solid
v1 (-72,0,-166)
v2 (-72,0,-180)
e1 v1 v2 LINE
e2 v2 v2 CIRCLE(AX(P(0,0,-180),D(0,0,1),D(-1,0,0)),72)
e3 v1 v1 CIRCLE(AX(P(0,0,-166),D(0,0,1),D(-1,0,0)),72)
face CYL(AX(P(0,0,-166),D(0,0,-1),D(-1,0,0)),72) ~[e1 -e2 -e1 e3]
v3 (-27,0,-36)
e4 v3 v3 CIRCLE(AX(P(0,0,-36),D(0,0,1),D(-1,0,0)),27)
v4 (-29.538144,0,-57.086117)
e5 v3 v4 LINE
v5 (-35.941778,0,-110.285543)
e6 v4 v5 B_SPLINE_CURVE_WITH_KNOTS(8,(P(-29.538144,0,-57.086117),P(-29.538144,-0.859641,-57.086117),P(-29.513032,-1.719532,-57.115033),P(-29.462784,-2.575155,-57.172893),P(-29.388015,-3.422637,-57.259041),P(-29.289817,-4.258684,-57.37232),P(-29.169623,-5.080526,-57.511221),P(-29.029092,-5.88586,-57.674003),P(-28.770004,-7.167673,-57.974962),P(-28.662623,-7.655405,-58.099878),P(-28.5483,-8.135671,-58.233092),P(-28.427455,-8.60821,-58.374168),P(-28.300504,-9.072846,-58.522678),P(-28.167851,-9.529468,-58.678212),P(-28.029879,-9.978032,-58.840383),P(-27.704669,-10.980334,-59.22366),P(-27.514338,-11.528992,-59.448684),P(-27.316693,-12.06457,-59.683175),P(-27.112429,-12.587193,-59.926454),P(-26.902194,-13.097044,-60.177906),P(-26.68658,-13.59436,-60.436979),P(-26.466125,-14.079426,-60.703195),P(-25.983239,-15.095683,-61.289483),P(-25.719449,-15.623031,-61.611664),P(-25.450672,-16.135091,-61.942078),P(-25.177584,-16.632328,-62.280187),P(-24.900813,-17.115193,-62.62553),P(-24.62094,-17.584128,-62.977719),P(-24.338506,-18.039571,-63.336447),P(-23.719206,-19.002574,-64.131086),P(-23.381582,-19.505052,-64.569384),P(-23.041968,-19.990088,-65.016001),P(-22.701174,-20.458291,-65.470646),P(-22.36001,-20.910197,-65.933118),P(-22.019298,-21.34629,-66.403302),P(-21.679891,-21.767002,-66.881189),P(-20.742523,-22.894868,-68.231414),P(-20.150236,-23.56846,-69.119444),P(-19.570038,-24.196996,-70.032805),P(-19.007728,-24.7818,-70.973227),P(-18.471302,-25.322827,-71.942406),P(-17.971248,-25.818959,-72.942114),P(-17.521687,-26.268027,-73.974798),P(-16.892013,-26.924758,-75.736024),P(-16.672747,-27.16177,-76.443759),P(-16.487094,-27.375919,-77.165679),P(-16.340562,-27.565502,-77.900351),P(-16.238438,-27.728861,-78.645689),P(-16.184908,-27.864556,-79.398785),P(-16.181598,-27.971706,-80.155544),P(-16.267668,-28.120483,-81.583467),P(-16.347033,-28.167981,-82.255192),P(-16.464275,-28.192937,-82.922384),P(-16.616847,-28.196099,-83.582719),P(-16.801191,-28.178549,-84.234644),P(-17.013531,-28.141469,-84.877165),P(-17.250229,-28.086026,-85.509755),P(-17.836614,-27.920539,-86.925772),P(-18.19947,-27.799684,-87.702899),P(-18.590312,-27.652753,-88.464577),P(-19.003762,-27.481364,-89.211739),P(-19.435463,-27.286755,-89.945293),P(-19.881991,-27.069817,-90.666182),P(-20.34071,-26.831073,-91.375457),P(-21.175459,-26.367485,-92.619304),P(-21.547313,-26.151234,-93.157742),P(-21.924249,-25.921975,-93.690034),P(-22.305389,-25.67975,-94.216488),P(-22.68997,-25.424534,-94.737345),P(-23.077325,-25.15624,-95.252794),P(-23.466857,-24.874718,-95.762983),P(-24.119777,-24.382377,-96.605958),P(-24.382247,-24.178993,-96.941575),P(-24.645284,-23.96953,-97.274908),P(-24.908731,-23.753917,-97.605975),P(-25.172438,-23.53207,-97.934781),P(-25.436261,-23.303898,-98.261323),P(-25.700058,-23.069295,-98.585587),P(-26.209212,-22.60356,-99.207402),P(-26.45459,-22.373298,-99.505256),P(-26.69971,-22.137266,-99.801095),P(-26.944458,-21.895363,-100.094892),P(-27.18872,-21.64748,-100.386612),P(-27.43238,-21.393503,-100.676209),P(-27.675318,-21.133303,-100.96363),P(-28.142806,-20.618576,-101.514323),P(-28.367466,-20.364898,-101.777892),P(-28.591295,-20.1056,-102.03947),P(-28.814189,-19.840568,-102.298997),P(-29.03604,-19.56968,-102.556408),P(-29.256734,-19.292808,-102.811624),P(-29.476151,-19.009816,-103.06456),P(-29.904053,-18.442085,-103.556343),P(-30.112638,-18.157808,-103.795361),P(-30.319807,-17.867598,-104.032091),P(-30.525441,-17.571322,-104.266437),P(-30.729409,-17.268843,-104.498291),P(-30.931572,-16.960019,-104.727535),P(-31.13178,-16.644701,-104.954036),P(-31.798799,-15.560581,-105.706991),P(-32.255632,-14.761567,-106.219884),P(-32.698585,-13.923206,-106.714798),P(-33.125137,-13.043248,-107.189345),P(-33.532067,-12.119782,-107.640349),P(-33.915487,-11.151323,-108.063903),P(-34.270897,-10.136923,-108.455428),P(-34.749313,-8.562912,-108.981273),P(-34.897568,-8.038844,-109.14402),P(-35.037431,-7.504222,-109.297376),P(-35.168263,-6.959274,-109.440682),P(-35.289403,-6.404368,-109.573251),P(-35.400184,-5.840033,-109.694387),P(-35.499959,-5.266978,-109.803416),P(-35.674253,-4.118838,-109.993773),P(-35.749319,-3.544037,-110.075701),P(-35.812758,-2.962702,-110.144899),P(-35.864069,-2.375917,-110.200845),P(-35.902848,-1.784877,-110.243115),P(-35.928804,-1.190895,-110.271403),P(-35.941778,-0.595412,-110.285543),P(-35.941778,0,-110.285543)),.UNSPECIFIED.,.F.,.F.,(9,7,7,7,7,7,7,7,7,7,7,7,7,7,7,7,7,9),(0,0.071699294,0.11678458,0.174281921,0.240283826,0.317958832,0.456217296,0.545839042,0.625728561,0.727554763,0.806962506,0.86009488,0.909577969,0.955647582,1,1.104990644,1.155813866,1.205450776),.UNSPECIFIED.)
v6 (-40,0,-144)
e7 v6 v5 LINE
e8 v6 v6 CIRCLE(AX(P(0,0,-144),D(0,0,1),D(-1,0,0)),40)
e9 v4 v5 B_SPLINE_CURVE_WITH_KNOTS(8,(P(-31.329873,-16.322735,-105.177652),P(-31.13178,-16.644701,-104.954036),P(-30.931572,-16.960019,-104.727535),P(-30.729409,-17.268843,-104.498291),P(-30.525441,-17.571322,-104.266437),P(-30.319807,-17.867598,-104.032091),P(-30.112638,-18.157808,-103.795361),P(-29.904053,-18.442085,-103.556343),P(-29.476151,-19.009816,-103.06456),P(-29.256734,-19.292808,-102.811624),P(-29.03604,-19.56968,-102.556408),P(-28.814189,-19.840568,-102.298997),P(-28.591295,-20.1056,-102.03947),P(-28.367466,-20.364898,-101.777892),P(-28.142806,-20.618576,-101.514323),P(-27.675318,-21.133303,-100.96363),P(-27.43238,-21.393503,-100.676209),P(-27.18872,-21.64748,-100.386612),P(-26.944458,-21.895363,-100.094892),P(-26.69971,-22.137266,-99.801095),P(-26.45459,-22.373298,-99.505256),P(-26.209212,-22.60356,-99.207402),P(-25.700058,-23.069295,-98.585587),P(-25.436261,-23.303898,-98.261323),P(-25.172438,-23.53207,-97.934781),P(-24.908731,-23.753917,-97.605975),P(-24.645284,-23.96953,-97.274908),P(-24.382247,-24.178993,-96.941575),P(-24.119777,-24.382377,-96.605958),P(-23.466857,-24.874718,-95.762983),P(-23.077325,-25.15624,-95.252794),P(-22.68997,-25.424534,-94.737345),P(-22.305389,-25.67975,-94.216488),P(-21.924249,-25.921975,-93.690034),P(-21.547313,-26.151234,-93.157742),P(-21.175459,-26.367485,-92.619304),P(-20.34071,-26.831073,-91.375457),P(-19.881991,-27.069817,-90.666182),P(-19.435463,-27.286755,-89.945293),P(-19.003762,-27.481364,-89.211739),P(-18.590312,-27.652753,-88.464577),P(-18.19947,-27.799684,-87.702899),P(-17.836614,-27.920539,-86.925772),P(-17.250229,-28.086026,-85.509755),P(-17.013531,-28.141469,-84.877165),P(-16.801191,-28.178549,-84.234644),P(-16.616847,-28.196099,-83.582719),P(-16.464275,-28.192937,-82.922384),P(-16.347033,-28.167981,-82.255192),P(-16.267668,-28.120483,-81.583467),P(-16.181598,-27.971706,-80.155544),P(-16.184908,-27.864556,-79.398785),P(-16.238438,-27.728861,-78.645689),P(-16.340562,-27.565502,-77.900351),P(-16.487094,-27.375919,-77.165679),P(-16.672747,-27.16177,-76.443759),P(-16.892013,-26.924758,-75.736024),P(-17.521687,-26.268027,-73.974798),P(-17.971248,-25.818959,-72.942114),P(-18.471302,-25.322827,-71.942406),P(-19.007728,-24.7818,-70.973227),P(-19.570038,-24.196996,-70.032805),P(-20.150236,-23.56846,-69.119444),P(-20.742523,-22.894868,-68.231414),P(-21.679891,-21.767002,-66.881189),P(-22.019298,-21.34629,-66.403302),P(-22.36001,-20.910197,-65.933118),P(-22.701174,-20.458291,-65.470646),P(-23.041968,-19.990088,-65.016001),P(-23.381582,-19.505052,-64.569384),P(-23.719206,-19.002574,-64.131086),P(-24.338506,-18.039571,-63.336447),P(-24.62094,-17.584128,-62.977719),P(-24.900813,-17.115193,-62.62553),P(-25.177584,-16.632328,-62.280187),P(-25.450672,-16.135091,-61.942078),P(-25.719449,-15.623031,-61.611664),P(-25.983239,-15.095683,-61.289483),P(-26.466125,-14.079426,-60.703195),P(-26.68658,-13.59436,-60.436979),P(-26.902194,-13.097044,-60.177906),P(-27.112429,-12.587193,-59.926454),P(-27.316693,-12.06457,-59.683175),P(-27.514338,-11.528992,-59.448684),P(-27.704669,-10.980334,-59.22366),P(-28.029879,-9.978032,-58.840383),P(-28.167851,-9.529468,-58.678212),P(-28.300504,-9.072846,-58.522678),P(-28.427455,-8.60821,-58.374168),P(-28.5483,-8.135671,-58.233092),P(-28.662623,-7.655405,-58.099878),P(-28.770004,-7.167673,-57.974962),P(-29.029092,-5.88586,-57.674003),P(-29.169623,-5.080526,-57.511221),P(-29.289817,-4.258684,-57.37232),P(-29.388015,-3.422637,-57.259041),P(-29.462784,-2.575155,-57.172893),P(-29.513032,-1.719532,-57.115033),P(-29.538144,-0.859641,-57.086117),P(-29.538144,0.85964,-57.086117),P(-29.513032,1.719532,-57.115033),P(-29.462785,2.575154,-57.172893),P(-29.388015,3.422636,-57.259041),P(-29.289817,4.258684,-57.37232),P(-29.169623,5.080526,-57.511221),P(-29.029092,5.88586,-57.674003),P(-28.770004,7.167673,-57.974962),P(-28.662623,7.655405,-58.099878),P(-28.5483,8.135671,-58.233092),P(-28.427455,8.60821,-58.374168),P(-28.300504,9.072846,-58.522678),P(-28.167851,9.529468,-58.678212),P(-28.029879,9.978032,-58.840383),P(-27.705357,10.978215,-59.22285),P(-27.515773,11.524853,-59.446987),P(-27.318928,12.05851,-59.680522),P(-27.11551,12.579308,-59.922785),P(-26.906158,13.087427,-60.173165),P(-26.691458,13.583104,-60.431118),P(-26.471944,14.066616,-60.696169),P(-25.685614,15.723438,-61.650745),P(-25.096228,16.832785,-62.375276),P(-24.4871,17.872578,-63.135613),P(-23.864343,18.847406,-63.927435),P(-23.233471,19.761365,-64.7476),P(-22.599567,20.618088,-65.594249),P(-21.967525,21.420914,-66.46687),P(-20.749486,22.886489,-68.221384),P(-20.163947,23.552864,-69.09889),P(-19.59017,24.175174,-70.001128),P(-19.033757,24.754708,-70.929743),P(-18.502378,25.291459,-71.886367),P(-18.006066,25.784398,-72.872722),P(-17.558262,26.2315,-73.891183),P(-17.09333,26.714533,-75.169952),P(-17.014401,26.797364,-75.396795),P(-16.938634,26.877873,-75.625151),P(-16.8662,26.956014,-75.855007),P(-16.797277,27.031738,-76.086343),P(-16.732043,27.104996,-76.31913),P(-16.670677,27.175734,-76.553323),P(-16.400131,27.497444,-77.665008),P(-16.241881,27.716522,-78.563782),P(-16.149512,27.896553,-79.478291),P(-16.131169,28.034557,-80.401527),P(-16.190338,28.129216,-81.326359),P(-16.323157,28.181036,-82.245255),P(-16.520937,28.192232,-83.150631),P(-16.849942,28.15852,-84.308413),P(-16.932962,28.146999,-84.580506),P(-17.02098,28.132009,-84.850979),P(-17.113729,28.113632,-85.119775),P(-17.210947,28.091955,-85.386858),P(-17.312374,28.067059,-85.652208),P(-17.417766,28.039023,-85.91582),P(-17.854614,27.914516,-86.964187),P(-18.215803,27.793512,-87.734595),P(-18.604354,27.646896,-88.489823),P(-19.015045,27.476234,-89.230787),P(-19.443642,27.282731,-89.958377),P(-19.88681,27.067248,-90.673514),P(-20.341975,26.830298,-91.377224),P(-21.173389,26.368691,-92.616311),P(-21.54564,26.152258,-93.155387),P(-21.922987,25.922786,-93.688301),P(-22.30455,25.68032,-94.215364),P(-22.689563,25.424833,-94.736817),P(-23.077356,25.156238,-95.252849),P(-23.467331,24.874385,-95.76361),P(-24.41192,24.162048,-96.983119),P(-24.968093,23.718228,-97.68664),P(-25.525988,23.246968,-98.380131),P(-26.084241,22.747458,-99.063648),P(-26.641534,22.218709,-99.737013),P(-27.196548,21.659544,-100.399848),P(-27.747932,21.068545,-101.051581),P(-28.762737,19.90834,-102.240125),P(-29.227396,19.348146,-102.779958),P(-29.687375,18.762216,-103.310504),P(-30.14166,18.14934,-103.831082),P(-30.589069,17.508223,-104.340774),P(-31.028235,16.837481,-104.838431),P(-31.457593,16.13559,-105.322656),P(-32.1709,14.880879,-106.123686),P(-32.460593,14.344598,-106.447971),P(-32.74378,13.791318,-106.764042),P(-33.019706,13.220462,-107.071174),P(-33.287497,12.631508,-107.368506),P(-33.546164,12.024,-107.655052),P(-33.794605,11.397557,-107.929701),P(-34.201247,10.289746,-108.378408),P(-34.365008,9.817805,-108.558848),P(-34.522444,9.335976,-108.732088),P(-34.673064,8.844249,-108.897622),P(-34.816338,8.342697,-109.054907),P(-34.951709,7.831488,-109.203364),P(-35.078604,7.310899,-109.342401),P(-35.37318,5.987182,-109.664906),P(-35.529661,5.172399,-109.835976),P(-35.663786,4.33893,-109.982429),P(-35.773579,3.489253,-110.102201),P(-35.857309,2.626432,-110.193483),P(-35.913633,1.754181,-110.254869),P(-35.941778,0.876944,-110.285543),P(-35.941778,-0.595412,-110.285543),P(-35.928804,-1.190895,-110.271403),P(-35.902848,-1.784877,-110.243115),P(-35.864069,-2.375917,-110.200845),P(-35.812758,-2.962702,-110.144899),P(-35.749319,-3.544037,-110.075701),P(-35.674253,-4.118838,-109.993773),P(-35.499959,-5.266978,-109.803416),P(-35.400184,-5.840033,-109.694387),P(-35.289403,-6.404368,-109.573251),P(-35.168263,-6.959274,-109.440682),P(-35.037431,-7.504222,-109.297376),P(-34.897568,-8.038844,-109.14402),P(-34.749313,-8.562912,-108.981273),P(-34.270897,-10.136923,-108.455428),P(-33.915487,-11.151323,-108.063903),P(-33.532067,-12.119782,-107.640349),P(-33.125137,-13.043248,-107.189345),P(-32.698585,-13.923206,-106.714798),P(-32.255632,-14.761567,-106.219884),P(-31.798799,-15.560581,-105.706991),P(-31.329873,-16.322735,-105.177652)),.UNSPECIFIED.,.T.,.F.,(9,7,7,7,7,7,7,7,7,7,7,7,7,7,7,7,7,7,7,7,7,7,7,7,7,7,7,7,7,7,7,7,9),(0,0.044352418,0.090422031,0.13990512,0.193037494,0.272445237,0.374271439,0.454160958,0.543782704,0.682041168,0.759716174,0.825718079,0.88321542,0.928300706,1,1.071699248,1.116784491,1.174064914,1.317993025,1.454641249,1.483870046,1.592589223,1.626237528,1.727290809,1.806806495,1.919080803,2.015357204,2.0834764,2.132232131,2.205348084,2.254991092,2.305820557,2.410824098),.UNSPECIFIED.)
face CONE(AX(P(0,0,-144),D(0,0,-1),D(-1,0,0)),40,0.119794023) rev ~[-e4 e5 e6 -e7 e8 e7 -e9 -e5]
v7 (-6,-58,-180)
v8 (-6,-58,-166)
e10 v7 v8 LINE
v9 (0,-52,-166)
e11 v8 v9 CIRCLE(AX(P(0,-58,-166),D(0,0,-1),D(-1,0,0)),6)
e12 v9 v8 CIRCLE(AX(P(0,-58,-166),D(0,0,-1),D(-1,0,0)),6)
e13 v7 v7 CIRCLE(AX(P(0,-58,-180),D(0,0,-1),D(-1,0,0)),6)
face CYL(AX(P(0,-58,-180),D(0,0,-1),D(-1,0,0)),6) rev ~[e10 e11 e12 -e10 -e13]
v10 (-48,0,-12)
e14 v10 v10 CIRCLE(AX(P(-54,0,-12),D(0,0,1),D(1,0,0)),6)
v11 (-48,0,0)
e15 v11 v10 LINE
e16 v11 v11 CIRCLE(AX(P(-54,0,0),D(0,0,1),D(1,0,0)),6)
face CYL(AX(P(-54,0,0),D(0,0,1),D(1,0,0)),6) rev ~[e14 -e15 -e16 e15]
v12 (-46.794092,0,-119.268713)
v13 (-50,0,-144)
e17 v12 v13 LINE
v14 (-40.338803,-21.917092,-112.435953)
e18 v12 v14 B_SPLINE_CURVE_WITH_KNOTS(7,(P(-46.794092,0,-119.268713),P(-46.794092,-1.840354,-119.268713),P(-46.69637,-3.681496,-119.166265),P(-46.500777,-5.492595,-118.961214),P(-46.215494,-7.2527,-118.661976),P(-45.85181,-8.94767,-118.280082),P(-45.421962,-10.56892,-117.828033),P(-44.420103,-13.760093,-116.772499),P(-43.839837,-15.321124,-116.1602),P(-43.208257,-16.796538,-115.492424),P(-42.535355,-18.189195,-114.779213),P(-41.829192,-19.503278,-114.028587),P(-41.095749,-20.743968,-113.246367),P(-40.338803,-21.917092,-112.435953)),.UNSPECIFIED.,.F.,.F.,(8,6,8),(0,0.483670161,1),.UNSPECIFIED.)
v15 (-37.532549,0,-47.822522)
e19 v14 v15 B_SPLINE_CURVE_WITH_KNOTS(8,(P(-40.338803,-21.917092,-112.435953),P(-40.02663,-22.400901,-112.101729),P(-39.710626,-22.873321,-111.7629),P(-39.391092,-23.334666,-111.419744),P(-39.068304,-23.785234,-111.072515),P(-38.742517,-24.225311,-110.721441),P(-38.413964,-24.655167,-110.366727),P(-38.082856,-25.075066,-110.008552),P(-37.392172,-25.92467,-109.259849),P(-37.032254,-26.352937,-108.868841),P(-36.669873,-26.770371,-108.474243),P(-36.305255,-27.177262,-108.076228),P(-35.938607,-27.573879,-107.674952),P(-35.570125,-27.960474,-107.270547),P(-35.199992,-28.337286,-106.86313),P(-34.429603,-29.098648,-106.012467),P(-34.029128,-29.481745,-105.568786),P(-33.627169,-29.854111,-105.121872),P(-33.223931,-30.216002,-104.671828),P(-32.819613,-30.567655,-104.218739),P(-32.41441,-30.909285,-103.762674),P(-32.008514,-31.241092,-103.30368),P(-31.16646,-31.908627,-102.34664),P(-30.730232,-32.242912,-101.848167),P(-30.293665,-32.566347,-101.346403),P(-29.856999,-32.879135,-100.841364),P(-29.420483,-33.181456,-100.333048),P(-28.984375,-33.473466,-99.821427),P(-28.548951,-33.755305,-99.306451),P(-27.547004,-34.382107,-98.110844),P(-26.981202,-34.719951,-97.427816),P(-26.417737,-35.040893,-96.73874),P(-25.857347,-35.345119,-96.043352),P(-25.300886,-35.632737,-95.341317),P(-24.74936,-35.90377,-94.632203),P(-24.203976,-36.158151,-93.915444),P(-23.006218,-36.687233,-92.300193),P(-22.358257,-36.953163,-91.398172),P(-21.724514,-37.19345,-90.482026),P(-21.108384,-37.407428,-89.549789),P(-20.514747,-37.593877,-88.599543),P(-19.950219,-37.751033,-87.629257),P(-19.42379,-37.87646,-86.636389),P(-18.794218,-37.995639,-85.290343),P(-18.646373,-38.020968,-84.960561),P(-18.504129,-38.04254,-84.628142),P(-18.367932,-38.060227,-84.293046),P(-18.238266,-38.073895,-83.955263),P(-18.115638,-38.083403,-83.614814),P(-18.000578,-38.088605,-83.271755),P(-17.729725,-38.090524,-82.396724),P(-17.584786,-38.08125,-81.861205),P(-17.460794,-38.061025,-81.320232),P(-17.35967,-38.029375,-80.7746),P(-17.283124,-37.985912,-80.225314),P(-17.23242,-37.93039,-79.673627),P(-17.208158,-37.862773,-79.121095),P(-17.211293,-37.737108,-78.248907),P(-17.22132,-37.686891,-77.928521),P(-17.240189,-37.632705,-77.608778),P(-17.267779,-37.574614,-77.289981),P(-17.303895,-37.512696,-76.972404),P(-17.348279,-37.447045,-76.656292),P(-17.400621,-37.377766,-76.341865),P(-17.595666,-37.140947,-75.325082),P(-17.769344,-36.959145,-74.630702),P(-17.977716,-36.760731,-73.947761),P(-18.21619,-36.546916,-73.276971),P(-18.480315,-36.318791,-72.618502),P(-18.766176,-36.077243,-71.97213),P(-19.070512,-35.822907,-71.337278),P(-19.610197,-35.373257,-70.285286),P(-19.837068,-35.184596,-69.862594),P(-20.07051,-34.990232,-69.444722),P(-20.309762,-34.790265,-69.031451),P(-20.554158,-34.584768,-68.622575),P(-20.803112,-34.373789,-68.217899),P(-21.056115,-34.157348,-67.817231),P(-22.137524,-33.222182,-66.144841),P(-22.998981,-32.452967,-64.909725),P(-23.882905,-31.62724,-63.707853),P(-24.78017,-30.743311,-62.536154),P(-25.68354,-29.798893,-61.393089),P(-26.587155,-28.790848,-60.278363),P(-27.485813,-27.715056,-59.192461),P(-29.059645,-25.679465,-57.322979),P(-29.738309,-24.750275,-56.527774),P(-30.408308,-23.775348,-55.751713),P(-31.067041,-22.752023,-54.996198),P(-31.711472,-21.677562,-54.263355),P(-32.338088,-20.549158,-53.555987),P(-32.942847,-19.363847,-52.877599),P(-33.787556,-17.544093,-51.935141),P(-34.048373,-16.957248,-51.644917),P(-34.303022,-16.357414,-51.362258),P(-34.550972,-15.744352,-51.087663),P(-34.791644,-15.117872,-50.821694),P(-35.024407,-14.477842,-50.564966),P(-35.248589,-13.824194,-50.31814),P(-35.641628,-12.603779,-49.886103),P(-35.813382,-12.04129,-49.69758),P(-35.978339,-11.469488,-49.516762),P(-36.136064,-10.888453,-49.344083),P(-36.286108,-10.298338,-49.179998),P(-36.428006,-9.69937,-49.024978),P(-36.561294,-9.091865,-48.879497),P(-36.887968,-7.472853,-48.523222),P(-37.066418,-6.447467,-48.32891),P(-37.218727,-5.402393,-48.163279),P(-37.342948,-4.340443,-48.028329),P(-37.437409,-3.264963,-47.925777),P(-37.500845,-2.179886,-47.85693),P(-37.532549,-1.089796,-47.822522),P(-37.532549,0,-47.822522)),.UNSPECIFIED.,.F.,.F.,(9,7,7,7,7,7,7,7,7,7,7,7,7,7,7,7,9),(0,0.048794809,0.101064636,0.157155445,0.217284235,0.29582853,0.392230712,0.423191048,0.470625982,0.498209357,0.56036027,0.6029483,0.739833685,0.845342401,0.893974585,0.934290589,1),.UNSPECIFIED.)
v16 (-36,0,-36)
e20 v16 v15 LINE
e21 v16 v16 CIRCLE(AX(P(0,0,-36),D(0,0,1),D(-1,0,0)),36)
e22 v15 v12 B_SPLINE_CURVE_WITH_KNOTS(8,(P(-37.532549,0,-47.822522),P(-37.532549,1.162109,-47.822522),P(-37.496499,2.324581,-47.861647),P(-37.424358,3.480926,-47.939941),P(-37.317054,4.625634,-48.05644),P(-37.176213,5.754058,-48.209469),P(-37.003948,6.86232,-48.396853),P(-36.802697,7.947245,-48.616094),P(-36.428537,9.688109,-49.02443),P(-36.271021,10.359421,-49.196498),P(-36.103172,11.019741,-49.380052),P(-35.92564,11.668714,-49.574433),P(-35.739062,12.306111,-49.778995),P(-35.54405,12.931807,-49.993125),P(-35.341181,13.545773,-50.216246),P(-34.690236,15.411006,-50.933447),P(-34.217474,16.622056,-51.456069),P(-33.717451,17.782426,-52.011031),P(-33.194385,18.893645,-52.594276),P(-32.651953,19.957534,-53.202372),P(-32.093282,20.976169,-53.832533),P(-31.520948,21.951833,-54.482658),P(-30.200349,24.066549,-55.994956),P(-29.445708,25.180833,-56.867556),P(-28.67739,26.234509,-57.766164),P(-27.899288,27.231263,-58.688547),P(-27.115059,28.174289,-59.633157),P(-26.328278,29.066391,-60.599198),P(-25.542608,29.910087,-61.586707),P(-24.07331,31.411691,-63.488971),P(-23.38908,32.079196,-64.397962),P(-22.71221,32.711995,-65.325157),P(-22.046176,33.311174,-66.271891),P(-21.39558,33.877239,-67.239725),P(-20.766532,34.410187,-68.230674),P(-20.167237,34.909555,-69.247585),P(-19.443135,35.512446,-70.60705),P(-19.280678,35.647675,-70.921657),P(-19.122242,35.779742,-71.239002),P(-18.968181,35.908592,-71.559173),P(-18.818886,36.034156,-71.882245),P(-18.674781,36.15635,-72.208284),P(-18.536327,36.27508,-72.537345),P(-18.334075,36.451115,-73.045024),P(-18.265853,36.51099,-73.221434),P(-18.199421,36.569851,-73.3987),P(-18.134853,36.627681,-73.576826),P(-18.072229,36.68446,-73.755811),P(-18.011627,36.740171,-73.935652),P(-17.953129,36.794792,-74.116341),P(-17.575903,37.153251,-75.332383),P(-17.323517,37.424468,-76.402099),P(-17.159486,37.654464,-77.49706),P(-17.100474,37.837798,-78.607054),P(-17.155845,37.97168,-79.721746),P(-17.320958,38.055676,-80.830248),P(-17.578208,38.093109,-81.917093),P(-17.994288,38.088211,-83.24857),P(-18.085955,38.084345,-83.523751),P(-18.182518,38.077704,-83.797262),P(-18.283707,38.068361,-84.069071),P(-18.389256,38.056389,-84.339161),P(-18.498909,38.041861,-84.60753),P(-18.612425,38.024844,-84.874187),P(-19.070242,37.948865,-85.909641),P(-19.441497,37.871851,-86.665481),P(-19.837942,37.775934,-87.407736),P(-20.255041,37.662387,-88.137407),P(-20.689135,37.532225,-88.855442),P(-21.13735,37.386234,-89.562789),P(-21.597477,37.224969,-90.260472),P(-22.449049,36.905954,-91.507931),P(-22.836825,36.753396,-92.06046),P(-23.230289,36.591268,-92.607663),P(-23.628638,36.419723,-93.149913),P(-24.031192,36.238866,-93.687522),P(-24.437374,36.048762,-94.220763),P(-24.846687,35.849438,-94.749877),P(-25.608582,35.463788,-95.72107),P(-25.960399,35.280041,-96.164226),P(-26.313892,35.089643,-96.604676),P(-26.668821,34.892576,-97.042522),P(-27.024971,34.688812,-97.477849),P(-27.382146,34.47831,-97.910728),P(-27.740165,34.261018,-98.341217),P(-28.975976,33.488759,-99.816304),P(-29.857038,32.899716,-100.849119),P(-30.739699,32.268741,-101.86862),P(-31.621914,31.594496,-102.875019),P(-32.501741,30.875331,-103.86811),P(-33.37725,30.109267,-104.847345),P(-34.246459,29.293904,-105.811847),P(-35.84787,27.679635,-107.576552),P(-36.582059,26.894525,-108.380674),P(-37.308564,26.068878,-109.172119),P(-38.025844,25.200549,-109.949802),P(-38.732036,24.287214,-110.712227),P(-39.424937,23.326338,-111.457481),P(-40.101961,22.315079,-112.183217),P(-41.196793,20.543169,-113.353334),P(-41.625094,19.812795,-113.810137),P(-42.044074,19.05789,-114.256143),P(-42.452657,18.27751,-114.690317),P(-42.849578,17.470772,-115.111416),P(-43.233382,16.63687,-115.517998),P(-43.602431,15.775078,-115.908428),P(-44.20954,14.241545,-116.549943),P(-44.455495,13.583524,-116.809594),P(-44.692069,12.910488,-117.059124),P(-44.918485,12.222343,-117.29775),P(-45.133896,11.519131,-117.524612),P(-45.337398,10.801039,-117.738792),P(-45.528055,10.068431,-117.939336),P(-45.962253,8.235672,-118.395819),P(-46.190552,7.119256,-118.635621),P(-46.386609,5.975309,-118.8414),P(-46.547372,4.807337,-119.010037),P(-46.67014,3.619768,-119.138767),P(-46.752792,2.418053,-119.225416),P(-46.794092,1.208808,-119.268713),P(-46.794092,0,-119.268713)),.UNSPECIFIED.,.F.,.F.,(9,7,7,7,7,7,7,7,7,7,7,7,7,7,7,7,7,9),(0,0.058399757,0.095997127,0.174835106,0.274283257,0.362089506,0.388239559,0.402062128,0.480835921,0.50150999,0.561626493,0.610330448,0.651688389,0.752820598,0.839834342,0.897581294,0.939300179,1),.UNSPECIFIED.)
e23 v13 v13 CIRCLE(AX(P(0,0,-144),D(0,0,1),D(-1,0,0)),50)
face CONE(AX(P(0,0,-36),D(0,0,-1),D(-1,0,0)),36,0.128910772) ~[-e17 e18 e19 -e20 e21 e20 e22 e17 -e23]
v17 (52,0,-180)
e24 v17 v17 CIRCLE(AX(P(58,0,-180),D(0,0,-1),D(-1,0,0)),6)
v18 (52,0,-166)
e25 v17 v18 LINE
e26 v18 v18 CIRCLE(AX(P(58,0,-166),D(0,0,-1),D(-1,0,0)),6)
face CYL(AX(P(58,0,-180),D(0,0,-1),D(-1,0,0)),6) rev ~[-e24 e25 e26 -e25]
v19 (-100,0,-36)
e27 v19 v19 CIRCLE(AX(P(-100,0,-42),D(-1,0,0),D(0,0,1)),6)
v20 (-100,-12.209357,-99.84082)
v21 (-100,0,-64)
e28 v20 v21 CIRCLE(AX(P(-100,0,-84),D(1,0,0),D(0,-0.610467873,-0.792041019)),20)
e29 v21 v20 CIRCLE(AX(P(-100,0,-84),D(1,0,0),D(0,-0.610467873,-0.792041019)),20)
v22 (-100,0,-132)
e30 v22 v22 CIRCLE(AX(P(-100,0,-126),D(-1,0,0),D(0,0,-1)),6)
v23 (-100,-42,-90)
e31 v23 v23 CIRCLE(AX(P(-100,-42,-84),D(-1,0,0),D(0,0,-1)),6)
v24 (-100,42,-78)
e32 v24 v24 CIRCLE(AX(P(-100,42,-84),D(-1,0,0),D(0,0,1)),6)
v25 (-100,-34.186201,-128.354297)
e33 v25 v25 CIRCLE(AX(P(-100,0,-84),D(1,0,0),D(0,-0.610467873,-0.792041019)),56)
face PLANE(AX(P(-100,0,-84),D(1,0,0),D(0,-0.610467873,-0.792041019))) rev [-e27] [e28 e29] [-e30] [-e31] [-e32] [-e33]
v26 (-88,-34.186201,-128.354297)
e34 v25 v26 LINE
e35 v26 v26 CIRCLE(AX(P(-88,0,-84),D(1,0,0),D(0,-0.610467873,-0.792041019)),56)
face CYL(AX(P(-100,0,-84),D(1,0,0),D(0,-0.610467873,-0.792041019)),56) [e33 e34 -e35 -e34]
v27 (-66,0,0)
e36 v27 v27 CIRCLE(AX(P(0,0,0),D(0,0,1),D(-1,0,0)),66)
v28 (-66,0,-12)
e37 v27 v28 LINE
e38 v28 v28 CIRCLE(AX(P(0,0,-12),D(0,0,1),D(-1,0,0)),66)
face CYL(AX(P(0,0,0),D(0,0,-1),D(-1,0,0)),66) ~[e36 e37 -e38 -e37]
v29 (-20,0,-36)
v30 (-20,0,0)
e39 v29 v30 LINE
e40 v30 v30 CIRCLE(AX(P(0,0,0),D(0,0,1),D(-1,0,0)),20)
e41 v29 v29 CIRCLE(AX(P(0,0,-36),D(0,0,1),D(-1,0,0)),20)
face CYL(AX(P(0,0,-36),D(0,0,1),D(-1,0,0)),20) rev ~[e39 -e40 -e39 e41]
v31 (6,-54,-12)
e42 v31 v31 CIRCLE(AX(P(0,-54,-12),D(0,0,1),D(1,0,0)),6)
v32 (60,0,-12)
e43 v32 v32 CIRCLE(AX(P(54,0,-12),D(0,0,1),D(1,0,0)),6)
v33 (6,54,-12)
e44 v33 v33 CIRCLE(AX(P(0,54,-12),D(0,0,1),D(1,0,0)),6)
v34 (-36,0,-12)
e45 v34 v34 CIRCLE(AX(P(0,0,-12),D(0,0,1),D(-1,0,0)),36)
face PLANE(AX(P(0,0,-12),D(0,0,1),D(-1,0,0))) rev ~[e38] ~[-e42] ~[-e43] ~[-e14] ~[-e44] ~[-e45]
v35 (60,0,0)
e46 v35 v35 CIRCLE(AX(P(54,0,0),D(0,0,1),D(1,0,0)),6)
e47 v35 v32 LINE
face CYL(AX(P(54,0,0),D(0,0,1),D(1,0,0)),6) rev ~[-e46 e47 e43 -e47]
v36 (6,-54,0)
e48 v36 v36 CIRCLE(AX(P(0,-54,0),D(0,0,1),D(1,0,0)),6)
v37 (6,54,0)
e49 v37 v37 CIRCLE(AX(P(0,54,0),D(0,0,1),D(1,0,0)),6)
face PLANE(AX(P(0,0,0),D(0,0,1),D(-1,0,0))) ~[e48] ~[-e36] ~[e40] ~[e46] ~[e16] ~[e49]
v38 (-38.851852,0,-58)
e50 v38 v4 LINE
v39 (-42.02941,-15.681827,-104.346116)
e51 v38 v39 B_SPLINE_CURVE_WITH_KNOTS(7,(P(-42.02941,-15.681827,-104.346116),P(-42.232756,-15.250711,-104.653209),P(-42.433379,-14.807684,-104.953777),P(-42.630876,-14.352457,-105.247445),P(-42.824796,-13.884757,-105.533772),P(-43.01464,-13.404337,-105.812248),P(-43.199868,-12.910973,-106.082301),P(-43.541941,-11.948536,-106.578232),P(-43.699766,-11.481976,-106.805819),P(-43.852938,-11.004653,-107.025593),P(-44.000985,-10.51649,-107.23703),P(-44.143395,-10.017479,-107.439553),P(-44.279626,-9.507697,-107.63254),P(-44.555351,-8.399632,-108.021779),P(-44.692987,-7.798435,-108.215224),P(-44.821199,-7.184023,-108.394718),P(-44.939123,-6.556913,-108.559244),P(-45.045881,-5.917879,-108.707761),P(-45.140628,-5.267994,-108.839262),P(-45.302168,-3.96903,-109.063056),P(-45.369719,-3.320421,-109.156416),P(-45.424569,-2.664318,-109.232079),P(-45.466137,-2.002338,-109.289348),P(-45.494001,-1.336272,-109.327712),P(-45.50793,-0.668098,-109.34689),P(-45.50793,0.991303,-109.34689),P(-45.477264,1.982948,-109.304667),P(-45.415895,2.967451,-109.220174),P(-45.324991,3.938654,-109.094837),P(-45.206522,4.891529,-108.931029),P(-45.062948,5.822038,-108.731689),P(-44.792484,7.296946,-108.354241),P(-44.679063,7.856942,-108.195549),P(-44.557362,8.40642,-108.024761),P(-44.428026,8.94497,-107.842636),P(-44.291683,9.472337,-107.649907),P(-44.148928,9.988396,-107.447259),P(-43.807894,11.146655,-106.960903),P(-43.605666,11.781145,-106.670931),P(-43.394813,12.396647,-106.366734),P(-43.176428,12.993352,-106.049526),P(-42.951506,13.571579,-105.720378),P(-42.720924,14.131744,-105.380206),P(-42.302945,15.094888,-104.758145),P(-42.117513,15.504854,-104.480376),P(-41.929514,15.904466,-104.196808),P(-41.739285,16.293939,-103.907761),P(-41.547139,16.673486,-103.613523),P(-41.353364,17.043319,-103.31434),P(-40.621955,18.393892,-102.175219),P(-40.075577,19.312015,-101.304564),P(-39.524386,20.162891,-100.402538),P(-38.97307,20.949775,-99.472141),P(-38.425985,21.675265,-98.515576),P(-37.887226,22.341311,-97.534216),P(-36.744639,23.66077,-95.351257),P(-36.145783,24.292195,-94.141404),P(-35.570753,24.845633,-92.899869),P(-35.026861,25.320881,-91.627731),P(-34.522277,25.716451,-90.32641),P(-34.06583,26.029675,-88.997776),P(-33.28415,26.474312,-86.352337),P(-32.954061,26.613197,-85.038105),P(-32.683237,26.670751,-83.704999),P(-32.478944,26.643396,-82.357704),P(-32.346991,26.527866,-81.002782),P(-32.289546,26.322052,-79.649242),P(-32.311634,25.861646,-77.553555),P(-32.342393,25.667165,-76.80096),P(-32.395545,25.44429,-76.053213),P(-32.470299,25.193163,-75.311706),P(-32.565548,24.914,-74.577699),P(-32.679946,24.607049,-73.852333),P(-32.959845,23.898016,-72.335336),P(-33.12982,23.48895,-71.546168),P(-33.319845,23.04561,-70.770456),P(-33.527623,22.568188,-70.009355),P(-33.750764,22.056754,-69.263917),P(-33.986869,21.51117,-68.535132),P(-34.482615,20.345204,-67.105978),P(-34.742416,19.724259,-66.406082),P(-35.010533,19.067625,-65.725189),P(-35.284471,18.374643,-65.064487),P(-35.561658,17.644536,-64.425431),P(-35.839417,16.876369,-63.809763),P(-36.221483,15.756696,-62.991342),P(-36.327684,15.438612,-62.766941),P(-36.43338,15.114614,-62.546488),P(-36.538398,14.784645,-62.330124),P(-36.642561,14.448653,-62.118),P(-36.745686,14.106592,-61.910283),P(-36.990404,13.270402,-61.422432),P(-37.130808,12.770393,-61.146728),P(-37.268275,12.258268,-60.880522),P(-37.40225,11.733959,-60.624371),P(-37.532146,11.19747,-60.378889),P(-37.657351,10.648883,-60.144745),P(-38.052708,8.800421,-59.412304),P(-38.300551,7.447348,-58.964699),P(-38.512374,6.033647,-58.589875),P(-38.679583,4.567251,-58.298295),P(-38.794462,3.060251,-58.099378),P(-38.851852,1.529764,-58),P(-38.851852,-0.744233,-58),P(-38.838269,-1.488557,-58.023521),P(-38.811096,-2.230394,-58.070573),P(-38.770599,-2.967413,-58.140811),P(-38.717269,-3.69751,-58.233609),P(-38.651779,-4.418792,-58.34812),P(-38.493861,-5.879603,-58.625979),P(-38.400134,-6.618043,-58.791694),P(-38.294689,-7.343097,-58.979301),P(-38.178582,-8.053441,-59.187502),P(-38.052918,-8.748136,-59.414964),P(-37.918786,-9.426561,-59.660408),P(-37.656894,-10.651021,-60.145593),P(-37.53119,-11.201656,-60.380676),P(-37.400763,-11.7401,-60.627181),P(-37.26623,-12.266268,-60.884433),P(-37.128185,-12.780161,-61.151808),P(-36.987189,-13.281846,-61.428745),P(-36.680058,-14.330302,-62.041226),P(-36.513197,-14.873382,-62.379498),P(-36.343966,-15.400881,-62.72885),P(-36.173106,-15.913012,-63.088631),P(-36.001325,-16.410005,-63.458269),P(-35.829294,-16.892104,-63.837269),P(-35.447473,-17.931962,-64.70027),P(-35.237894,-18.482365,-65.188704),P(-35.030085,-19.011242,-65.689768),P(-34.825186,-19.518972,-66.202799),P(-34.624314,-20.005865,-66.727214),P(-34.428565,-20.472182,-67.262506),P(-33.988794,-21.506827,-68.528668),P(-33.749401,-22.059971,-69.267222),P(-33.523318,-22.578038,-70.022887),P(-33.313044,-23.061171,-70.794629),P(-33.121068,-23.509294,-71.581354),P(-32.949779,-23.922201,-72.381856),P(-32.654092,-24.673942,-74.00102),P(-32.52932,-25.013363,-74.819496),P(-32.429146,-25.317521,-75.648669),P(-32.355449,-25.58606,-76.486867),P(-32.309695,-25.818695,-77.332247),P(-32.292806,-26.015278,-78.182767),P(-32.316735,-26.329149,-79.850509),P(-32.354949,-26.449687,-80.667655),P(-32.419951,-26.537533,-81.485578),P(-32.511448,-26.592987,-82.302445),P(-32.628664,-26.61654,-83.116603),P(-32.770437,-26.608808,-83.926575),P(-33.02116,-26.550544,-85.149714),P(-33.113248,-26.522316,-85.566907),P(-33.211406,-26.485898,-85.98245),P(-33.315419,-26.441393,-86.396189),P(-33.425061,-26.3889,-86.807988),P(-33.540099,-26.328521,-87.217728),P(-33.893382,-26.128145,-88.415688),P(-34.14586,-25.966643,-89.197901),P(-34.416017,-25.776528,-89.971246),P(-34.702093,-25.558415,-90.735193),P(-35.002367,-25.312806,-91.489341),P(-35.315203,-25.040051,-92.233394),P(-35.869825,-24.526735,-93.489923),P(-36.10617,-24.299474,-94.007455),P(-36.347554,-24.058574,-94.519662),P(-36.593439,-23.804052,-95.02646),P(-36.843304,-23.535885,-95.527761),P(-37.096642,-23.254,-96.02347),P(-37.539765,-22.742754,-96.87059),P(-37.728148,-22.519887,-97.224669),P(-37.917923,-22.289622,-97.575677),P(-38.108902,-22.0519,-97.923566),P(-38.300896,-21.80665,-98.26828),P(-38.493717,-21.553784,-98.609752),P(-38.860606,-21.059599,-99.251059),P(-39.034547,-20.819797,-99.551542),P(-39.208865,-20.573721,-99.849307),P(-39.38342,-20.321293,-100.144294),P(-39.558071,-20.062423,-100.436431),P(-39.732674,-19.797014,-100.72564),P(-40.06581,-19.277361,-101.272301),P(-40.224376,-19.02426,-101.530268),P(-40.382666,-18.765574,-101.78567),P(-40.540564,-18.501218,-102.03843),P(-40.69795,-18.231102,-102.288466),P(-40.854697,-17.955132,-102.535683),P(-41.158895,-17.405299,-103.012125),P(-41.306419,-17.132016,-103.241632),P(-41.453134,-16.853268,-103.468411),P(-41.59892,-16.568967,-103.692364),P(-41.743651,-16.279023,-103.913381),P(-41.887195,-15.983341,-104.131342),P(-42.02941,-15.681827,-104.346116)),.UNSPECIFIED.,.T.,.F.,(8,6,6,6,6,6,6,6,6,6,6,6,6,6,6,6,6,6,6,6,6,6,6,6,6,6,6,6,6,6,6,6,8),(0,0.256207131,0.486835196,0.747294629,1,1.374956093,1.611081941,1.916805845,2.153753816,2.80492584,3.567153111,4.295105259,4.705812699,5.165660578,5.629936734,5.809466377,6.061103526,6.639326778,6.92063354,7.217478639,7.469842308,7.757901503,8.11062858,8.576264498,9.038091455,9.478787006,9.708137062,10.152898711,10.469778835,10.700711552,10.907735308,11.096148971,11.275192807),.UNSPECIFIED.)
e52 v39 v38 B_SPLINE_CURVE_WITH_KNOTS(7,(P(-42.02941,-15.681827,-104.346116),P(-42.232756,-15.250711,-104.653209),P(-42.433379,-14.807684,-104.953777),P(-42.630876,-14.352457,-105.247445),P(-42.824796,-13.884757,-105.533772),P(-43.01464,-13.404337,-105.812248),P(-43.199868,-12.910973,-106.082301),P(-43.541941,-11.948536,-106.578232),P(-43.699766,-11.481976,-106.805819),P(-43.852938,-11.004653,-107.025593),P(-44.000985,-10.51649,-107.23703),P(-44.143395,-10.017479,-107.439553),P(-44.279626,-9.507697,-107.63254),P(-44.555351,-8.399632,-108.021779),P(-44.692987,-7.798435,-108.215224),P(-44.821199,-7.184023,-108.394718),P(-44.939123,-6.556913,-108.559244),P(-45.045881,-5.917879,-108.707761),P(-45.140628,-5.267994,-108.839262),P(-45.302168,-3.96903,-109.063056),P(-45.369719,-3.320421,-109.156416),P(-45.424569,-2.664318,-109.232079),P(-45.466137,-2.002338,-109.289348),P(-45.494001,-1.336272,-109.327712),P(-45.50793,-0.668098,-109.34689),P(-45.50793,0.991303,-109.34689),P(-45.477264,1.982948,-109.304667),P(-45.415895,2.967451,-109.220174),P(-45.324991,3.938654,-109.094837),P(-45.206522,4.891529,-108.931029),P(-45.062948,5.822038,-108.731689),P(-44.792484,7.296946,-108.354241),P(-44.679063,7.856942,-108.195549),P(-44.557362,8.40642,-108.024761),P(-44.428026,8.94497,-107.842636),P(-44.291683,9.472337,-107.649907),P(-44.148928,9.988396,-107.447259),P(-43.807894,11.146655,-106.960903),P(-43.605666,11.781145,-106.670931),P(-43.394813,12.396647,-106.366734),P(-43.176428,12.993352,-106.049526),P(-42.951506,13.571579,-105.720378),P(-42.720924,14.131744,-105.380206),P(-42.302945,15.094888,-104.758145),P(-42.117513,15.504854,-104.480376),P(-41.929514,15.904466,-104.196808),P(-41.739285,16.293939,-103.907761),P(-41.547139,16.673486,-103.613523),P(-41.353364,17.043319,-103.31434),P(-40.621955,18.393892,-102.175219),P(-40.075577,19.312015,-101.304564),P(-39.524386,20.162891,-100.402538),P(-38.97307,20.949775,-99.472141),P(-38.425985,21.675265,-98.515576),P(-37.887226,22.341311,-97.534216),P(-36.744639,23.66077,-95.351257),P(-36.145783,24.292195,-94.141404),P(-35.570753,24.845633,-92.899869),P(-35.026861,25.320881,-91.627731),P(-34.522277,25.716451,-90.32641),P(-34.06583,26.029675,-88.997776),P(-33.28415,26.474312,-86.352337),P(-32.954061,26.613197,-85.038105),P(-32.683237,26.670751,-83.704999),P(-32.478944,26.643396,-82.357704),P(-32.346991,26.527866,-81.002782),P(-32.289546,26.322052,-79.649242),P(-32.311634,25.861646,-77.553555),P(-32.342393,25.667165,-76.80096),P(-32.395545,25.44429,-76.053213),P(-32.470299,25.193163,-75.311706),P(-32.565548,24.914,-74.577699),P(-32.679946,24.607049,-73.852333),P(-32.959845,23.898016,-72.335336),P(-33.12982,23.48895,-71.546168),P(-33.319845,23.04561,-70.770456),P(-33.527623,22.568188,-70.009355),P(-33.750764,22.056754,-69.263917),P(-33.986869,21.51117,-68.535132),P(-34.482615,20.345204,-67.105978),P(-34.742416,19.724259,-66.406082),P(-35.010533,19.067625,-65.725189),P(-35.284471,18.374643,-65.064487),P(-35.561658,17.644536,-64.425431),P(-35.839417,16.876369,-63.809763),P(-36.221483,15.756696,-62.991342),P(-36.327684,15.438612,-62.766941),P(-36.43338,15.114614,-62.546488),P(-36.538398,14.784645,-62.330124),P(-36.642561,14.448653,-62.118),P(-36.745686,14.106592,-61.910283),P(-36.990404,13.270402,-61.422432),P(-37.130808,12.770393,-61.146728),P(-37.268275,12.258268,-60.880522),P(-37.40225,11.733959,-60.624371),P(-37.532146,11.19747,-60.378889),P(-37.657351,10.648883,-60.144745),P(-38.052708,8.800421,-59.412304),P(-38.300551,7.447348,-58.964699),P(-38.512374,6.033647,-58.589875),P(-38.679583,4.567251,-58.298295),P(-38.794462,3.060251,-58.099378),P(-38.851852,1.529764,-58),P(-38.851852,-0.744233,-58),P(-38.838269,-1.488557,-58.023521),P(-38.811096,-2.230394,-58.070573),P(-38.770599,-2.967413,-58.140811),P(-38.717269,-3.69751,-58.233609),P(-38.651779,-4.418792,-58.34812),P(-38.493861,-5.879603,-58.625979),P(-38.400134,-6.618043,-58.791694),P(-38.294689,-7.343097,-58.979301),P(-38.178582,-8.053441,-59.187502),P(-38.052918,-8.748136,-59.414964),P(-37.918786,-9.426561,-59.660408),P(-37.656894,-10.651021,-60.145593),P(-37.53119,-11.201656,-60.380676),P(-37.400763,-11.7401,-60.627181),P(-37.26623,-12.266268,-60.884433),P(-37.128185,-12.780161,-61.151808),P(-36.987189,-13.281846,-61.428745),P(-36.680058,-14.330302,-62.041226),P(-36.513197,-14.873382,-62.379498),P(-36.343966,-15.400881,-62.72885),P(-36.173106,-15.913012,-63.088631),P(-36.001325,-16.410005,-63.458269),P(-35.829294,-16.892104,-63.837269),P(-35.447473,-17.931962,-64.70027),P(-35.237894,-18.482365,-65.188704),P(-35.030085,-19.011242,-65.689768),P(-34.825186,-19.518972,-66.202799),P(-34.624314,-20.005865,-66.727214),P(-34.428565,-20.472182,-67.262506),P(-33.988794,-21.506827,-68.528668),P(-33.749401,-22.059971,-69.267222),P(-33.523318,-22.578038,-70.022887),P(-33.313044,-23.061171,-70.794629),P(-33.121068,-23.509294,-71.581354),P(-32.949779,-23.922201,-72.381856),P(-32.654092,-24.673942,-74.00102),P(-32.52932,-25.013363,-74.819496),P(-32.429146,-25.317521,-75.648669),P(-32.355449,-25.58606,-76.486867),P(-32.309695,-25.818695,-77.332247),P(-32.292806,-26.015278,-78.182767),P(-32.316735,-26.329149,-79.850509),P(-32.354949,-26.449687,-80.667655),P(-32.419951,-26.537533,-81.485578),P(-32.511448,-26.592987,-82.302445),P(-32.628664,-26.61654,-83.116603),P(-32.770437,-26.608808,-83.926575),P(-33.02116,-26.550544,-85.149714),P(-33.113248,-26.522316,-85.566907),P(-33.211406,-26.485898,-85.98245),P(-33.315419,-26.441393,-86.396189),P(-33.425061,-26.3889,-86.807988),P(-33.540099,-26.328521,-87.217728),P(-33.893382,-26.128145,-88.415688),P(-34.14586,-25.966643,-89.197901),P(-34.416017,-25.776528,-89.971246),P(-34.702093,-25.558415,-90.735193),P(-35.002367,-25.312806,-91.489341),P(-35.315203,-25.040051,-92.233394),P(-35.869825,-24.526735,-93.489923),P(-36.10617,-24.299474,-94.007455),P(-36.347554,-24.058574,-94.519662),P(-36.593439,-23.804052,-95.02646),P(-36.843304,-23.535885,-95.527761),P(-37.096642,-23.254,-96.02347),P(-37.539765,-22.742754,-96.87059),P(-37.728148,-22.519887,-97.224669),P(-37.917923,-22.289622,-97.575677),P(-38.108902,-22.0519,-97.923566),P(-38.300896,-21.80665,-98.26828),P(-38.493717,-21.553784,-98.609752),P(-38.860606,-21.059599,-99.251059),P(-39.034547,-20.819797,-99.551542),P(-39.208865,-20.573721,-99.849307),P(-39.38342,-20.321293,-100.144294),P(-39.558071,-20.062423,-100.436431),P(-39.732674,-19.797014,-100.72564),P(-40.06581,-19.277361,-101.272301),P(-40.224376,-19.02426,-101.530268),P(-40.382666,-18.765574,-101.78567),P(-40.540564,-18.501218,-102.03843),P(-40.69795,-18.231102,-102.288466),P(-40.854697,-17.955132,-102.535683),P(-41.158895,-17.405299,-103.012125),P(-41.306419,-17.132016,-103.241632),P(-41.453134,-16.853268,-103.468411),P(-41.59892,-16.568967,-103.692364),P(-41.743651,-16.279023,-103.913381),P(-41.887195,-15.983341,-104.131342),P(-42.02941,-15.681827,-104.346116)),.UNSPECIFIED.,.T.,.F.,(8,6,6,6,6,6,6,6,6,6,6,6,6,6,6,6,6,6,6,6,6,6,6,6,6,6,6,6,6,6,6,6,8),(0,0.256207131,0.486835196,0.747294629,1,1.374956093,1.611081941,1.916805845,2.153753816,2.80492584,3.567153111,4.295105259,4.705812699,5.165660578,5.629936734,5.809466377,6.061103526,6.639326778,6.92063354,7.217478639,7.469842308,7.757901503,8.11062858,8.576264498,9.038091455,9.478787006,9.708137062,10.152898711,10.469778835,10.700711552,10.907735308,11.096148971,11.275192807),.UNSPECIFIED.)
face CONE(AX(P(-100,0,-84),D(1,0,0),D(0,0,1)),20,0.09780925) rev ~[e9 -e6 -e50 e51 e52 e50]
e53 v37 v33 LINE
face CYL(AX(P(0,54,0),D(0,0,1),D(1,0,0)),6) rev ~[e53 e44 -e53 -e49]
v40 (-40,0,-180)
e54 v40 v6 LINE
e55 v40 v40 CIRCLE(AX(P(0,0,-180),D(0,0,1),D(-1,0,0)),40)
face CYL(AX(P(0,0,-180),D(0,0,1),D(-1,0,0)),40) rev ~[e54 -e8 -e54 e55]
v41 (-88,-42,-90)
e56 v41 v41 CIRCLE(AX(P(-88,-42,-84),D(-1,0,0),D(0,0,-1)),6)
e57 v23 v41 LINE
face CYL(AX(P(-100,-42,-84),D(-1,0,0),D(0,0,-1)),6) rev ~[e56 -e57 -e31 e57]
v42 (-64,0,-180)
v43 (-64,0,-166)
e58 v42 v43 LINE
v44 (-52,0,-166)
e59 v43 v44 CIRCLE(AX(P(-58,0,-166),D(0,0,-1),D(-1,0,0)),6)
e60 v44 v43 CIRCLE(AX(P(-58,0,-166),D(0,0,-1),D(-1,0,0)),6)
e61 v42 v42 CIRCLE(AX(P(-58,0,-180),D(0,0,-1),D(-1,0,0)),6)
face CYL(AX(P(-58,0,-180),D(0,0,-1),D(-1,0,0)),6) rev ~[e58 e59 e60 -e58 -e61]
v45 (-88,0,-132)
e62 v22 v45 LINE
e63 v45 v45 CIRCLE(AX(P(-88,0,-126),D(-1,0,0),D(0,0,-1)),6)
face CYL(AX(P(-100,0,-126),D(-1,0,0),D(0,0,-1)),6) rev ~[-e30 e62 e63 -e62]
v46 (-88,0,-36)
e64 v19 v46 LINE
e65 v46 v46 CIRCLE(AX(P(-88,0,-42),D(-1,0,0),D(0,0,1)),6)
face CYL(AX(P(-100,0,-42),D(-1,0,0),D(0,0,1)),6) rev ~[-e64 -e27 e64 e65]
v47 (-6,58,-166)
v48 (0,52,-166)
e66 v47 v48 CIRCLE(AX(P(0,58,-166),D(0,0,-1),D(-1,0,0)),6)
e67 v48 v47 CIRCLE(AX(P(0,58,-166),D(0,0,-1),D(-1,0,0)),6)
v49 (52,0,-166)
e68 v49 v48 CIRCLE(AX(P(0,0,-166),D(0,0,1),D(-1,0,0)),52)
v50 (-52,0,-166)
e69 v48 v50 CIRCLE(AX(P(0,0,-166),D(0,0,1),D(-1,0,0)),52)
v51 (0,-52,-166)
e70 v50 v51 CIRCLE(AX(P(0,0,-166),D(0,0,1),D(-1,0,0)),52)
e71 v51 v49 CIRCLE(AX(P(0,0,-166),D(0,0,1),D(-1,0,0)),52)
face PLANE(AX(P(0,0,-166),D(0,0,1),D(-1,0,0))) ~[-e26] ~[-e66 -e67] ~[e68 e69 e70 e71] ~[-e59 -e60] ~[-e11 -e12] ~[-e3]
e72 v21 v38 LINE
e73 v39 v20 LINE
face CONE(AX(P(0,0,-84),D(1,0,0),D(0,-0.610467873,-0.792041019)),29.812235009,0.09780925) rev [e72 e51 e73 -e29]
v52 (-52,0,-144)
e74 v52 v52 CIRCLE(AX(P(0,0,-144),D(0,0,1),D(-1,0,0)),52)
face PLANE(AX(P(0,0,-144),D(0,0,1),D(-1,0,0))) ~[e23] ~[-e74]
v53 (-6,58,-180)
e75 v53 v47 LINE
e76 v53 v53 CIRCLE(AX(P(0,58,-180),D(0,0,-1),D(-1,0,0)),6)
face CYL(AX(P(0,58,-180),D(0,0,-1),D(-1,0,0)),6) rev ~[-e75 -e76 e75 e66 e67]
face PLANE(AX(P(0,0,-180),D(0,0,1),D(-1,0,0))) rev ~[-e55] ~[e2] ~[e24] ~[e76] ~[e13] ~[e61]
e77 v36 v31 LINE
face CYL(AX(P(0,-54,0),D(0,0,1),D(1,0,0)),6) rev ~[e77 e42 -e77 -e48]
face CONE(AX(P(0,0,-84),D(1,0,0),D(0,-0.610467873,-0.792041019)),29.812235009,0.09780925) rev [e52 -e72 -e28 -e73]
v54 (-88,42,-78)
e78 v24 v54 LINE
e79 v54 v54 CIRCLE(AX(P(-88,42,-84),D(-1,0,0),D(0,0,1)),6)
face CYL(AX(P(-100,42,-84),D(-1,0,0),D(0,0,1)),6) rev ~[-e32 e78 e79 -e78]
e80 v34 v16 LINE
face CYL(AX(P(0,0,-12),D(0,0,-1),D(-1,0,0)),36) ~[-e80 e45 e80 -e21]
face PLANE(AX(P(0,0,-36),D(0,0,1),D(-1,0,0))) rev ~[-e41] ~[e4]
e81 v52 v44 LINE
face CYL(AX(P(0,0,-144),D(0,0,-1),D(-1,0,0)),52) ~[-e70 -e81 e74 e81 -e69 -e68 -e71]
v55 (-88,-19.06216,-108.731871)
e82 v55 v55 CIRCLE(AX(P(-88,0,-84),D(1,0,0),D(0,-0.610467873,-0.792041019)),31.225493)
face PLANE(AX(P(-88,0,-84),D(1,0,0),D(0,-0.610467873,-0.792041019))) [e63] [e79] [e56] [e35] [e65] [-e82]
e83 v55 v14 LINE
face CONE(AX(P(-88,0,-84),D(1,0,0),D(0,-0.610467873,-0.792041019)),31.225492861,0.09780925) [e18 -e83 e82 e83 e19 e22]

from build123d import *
from build123d.topology import SkipClean

# Parameters (mm, degrees)
SKETCH4_R          = 6
CUT_EXTRUDE1_DEPTH = 12
SKETCH5_R          = 6
CUT_EXTRUDE2_DEPTH = 14
SKETCH14_R         = 6
CUT_EXTRUDE3_DEPTH = 12


with BuildPart() as part:
    # Sketch1 → Revolve1 (revolve)
    with BuildSketch(Plane(origin=(0, 0, 0), x_dir=(1, 0, 0), z_dir=(0, 1, 0)), mode=Mode.PRIVATE) as revolve1_sk:
        Polygon((40, 180), (40, 144), (27, 36), (20, 36), (20, 0), (66, 0), (66, 12), (36, 12), (36, 36), (50, 144), (52, 144), (52, 166), (72, 166), (72, 180), align=None)
    revolve(revolve1_sk.sketch.rotate(Axis((0, 0, -182.979971196), (0, 0, 1)), 180), axis=Axis((0, 0, -182.979971196), (0, 0, 1)))

    # Sketch4 → Cut-Extrude1 (cut)
    with BuildSketch(Plane.XY):
        with Locations((54, 0)):
            Circle(SKETCH4_R)
        with Locations((0, -54)):
            Circle(SKETCH4_R)
        with Locations((-54, 0)):
            Circle(SKETCH4_R)
        with Locations((0, 54)):
            Circle(SKETCH4_R)
    extrude(amount=-CUT_EXTRUDE1_DEPTH, mode=Mode.SUBTRACT)

    # Sketch5 → Cut-Extrude2 (cut)
    with BuildSketch(Plane(origin=(0, 0, -180), x_dir=(-1, 0, 0), z_dir=(0, 0, -1))):
        with Locations((58, 0)):
            Circle(SKETCH5_R)
        with Locations((0, -58)):
            Circle(SKETCH5_R)
        with Locations((-58, 0)):
            Circle(SKETCH5_R)
        with Locations((0, 58)):
            Circle(SKETCH5_R)
    extrude(amount=-CUT_EXTRUDE2_DEPTH, mode=Mode.SUBTRACT)

    # Sketch11 → Revolve2 (revolve)
    with BuildSketch(Plane(origin=(0, 0, 0), x_dir=(1, 0, 0), z_dir=(0, 1, 0)), mode=Mode.PRIVATE) as revolve2_sk:
        Polygon((0, 54.187764991), (-100, 64), (-100, 28), (-88, 28), (-88, 52.774507139), (0, 44.139740331), align=None)
    revolve(revolve2_sk.sketch.rotate(Axis((-156.93032519, 0, -84), (1, 0, 0)), 142.376659073), axis=Axis((-156.93032519, 0, -84), (1, 0, 0)))

    # Sketch12 → Cut-Revolve1 (revolve, cut)
    with BuildSketch(Plane(origin=(0, 0, 0), x_dir=(1, 0, 0), z_dir=(0, 1, 0)), mode=Mode.PRIVATE) as cut_revolve1_sk:
        Polygon((0, 180), (40, 180), (40, 144), (27, 36), (0, 36), align=None)
    revolve(cut_revolve1_sk.sketch.rotate(Axis((0, 0, -182.979971196), (0, 0, 1)), 180), axis=Axis((0, 0, -182.979971196), (0, 0, 1)), mode=Mode.SUBTRACT)

    # Sketch13 → Cut-Revolve2 (revolve, cut)
    with SkipClean():  # the faces are left unmerged after this step: merging them gives an invalid solid
        with BuildSketch(Plane(origin=(0, 0, 0), x_dir=(1, 0, 0), z_dir=(0, 1, 0))):
            Polygon((-100, 64), (0, 54.187764991), (0, 84), (-100, 84), align=None)
        revolve(axis=Axis((-156.93032519, 0, -84), (1, 0, 0)), mode=Mode.SUBTRACT)

    # Sketch14 → Cut-Extrude3 (cut)
    with SkipClean():  # the faces are left unmerged after this step: merging them gives an invalid solid
        with BuildSketch(Plane.ZY.offset(100)):
            with Locations((-42, 0)):
                Circle(SKETCH14_R)
            with Locations(Location((-126, 0, 0), (0, 0, 180))):
                Circle(SKETCH14_R)
            with Locations((-84, 42)):
                Circle(SKETCH14_R)
            with Locations(Location((-84, -42, 0), (0, 0, 180))):
                Circle(SKETCH14_R)
        extrude(amount=-CUT_EXTRUDE3_DEPTH, mode=Mode.SUBTRACT)


solid = part.part
